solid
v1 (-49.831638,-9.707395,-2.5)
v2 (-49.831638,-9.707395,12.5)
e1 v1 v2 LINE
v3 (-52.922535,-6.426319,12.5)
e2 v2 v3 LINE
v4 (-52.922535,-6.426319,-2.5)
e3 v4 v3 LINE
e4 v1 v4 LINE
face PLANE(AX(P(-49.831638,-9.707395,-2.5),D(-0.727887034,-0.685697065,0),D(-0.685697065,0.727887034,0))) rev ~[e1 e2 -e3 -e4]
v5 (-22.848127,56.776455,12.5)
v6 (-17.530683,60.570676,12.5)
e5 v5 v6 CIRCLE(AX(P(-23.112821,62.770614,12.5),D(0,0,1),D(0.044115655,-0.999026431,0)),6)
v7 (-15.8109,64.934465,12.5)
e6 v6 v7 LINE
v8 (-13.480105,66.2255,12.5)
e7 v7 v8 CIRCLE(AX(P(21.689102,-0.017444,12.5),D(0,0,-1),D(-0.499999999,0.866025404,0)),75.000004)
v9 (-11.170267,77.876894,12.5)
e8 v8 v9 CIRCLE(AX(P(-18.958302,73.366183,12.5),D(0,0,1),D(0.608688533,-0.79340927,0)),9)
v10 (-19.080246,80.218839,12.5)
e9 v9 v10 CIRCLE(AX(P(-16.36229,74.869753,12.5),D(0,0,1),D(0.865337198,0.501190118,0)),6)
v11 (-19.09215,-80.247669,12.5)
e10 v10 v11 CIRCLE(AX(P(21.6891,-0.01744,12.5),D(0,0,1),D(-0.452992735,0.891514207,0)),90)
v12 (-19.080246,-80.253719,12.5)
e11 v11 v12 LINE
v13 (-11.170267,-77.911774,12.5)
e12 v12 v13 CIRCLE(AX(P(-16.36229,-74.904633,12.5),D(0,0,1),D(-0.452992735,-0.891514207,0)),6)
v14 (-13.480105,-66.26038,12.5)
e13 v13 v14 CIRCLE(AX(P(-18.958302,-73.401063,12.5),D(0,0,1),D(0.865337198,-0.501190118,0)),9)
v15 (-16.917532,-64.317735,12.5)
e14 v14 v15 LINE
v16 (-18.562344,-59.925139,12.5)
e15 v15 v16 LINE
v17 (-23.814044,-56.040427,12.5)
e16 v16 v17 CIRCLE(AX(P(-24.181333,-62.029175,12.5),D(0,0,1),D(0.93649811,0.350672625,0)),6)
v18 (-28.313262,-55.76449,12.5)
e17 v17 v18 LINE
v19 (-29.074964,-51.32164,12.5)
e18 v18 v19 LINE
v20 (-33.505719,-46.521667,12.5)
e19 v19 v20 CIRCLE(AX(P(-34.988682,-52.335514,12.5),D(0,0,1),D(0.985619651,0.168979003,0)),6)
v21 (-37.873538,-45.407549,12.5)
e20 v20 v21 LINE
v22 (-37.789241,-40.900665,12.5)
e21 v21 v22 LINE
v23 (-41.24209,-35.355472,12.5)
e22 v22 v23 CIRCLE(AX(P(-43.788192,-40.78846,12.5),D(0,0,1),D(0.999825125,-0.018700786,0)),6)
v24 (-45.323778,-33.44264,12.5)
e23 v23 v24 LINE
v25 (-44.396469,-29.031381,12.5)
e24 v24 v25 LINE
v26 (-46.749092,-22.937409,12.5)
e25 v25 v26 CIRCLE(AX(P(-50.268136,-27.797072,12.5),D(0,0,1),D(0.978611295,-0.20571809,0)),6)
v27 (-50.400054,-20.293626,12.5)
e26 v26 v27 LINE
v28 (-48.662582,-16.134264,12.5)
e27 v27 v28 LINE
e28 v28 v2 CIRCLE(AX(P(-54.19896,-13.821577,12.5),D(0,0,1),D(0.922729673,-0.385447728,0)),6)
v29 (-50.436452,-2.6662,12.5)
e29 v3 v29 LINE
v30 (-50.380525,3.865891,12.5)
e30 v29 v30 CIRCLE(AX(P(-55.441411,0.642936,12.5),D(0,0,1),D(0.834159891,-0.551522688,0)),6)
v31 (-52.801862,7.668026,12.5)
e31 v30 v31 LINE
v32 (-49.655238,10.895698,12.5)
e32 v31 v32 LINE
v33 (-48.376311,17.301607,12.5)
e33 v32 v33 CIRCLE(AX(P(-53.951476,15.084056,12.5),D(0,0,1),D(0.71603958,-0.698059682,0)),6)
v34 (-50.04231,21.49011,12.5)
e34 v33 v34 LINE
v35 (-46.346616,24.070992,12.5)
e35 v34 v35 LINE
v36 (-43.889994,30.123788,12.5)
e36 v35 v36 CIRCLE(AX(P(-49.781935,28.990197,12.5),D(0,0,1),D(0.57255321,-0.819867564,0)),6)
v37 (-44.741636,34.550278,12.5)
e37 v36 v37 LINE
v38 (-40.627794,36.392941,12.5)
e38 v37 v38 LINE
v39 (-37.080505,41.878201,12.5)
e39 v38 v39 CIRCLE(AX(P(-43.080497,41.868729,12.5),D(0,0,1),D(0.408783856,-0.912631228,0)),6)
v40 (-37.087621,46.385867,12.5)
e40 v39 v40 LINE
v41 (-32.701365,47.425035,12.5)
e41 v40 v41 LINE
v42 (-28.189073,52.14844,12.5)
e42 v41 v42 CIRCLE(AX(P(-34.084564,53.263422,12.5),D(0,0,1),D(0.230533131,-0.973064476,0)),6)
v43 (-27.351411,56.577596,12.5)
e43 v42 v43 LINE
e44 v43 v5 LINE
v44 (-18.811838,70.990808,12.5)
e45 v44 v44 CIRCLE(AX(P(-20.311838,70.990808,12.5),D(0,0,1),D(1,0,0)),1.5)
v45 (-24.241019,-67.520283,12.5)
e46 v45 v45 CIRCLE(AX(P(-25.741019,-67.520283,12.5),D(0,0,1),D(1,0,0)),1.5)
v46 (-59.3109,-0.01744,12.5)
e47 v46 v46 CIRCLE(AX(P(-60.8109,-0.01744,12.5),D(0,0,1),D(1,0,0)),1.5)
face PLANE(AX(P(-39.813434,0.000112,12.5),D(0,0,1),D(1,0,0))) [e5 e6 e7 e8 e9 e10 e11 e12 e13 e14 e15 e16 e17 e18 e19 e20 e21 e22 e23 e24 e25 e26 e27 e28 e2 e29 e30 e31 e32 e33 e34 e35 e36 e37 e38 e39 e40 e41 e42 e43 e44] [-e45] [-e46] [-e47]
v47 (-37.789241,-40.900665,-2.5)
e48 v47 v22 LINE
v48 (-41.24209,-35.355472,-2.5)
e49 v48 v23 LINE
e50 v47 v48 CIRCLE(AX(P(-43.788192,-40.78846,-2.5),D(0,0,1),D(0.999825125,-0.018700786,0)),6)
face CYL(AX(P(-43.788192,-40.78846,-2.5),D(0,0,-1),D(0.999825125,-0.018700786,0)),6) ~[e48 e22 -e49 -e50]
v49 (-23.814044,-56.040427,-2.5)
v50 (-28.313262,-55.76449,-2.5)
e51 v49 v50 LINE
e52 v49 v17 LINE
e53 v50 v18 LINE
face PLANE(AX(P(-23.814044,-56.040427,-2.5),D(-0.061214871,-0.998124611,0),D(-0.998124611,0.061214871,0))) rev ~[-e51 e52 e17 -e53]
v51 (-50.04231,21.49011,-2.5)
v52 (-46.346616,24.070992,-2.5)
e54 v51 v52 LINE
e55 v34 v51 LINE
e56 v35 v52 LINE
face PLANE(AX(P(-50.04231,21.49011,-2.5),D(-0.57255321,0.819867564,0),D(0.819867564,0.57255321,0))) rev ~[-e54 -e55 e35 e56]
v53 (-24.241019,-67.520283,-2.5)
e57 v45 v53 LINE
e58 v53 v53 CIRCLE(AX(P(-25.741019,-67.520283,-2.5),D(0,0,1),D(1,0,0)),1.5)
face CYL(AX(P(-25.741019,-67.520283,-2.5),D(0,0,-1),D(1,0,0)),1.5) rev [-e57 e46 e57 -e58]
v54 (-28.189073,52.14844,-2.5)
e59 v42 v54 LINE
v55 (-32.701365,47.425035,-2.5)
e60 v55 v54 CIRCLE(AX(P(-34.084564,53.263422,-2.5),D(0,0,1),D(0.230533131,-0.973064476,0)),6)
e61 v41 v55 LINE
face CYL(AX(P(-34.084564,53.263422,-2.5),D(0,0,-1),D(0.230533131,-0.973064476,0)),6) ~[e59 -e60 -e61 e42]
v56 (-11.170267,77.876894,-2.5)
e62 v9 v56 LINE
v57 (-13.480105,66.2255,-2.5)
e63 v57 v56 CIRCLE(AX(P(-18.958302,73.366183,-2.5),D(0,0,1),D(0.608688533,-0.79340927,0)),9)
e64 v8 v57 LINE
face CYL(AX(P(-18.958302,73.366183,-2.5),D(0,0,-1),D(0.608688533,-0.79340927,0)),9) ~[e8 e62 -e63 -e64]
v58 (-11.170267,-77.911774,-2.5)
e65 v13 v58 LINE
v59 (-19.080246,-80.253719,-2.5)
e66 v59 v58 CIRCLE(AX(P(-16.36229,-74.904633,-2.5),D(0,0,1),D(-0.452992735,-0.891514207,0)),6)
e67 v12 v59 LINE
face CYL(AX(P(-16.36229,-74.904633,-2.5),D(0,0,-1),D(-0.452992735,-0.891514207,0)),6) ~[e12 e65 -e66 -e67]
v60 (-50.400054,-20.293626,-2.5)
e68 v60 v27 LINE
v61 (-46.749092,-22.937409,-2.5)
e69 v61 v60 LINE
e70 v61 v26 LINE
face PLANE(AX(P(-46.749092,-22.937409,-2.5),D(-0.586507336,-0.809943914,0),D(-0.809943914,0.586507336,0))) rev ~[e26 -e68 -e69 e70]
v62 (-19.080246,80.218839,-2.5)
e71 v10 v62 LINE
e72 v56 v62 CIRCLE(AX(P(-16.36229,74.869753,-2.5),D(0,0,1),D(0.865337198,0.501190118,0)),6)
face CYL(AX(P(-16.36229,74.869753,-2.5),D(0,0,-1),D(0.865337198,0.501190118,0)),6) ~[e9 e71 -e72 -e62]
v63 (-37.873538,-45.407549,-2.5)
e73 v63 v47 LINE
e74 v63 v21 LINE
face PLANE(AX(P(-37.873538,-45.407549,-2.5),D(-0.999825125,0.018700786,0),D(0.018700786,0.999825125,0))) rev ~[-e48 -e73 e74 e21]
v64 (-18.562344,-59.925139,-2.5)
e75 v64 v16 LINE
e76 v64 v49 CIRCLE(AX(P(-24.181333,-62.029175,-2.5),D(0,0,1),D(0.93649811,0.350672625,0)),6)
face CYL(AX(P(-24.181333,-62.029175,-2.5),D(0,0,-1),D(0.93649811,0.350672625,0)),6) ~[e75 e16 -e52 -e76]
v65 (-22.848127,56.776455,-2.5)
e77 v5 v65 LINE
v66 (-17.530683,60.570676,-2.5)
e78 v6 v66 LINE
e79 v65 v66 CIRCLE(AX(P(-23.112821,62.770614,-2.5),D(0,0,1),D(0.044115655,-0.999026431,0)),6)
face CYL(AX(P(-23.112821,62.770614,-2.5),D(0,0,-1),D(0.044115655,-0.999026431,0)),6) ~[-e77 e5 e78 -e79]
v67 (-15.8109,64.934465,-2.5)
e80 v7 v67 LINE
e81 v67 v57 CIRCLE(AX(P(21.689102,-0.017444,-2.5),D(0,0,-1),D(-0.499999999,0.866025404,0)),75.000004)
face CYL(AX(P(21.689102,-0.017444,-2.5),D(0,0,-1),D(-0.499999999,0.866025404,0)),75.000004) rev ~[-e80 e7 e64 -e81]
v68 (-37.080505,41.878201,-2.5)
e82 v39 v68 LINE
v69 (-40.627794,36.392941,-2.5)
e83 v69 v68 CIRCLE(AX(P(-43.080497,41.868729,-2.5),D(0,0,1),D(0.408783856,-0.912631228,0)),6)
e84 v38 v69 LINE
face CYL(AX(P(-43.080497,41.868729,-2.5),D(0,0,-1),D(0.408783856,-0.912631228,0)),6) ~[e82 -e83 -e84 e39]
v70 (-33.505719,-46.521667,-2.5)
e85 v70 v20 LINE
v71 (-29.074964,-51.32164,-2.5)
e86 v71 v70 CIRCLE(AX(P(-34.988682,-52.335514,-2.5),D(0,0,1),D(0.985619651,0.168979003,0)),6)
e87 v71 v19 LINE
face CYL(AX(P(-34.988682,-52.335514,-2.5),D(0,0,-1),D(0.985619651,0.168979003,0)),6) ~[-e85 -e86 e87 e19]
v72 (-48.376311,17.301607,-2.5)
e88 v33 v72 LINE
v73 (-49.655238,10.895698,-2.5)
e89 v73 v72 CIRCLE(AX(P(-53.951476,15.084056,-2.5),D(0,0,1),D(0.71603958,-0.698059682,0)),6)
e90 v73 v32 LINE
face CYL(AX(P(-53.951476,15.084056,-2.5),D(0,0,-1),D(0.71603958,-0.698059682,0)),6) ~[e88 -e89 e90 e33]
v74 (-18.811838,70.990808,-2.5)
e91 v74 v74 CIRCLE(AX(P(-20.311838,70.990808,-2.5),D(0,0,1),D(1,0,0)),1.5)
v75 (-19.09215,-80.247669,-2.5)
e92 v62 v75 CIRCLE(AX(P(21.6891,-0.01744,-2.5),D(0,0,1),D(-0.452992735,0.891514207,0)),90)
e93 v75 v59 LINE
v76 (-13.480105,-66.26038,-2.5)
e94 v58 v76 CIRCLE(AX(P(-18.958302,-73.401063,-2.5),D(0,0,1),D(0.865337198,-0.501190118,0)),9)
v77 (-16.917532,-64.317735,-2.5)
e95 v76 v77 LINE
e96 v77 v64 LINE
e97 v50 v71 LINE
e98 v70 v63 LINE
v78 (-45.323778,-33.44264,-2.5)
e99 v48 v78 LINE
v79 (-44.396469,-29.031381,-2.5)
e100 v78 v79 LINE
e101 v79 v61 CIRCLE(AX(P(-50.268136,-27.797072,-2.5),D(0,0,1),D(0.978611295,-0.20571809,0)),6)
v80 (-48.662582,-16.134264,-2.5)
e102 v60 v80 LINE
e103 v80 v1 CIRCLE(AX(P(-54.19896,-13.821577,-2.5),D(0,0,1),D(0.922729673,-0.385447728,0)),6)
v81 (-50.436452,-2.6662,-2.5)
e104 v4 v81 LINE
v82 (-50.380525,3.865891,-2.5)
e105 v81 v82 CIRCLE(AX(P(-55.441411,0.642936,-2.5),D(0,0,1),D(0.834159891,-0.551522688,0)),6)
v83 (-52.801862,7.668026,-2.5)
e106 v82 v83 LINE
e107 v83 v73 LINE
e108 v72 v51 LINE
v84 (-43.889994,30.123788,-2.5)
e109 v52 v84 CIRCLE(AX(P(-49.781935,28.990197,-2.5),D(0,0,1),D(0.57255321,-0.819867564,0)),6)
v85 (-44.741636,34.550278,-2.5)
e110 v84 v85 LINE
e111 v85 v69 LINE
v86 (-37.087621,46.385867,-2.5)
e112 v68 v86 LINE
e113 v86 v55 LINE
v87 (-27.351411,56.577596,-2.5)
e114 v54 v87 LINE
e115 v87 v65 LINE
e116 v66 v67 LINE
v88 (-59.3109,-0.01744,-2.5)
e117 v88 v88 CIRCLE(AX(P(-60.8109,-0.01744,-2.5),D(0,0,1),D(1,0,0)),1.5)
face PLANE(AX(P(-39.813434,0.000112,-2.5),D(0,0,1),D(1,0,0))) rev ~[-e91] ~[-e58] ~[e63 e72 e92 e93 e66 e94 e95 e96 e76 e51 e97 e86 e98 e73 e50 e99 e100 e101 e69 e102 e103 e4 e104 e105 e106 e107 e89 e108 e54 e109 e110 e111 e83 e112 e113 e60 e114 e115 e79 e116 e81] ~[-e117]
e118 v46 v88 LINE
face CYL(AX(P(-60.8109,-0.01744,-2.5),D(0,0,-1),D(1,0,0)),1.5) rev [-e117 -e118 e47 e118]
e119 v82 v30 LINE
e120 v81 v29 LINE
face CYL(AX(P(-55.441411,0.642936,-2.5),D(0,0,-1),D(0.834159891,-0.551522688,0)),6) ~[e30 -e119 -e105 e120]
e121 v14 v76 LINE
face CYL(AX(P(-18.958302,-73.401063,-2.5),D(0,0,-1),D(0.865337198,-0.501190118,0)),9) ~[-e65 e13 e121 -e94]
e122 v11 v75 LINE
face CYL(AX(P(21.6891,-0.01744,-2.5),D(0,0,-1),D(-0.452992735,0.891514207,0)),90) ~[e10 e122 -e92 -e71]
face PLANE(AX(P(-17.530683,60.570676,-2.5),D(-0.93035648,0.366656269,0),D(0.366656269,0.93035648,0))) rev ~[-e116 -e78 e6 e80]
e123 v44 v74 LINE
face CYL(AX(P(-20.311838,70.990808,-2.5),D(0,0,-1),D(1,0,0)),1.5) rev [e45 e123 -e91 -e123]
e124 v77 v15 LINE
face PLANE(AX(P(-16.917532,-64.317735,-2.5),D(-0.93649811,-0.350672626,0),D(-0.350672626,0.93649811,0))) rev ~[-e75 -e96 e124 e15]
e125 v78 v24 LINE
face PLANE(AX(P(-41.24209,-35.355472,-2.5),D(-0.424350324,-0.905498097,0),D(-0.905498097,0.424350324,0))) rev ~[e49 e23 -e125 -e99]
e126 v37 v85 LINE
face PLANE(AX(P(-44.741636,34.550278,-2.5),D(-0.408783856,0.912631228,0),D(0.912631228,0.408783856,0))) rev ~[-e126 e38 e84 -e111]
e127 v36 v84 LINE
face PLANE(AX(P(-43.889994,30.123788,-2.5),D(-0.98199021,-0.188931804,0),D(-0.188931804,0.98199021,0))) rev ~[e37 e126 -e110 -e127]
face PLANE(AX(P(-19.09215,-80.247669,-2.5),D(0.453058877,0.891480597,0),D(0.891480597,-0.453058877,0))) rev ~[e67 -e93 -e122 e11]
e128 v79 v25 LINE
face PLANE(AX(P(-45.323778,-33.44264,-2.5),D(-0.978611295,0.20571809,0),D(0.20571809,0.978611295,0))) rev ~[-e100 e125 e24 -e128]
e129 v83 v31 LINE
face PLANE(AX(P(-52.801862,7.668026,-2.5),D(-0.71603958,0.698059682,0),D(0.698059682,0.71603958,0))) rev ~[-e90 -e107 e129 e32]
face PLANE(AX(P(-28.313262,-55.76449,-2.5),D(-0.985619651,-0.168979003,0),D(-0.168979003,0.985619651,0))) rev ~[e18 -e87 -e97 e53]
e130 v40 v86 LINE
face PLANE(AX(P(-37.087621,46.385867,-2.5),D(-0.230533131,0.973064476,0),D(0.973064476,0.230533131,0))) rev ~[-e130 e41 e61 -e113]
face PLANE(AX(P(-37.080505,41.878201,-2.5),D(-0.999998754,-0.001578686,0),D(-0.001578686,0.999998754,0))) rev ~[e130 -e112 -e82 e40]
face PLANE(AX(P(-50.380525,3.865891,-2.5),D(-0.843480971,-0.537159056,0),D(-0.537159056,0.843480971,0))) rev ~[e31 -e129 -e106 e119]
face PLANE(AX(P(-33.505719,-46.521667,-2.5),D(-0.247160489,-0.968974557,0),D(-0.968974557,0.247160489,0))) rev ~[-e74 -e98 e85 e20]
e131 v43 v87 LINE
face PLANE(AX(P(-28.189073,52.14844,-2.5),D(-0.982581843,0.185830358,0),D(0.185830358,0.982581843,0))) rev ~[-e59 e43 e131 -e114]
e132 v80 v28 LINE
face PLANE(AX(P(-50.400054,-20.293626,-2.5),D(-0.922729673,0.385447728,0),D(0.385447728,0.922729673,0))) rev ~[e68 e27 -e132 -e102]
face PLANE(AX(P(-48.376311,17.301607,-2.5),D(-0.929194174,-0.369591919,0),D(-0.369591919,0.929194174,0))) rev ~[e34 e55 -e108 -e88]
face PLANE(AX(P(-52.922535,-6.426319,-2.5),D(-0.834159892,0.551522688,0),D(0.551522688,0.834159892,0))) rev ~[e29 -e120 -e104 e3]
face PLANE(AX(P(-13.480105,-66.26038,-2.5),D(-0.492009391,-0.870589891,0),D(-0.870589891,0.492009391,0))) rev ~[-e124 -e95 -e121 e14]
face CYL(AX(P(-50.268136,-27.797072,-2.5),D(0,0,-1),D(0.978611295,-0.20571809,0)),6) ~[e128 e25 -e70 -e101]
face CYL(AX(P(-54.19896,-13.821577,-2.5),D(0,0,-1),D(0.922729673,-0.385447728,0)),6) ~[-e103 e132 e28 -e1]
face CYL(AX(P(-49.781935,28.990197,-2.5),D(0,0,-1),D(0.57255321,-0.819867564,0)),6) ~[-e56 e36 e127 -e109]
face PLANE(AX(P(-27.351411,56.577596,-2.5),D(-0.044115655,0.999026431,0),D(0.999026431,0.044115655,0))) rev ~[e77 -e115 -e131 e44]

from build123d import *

# Parameters (mm, degrees)
SKETCH_1_R        = 1
EXTRUDE_1_DEPTH   = 1
SKETCH_1_2_R      = 1
EXTRUDE_1_2_DEPTH = 8
SKETCH_1_3_R      = 1
EXTRUDE_2_DEPTH   = 10
SCALE_4_SCALE     = 1.5


with BuildPart() as part:
    # 草图1 → Extrude 1 (new body)
    with BuildSketch(Plane.XY):
        with BuildLine():
            Line((-23.446136356, -44.161959762), (-25.73775467, -42.866863479))
            Line((-25.73775467, -42.866863479), (-26.834295942, -39.938466016))
            ThreePointArc((-26.834295942, -39.938466016), (-28.201527977, -38.125336415), (-30.335428898, -37.348658075))
            Line((-30.335428898, -37.348658075), (-33.334907776, -37.164700371))
            Line((-33.334907776, -37.164700371), (-33.842709051, -34.202800331))
            ThreePointArc((-33.842709051, -34.202800331), (-34.84597704, -32.165592505), (-36.7965457, -31.002818113))
            Line((-36.7965457, -31.002818113), (-39.708425324, -30.260072511))
            Line((-39.708425324, -30.260072511), (-39.652227319, -27.255483394))
            ThreePointArc((-39.652227319, -27.255483394), (-40.255989993, -25.066366444), (-41.954126526, -23.558687864))
            Line((-41.954126526, -23.558687864), (-44.675252109, -22.283466496))
            Line((-44.675252109, -22.283466496), (-44.057045667, -19.342627369))
            ThreePointArc((-44.057045667, -19.342627369), (-44.239914432, -17.079151855), (-45.625461503, -15.279979352))
            Line((-45.625461503, -15.279979352), (-48.059435816, -13.517457571))
            Line((-48.059435816, -13.517457571), (-46.901121207, -10.744549126))
            ThreePointArc((-46.901121207, -10.744549126), (-46.656617846, -8.486899797), (-47.680491761, -6.459969953))
            Line((-47.680491761, -6.459969953), (-49.741090048, -4.272585973))
            Line((-49.741090048, -4.272585973), (-48.083701146, -1.765839874))
            ThreePointArc((-48.083701146, -1.765839874), (-47.420487313, 0.406004917), (-48.046416828, 2.588887101))
            Line((-48.046416828, 2.588887101), (-49.660641368, 5.123644113))
            Line((-49.660641368, 5.123644113), (-47.562892001, 7.275425136))
            ThreePointArc((-47.562892001, 7.275425136), (-46.504462376, 9.284526705), (-46.710273625, 11.546031539))
            Line((-46.710273625, 11.546031539), (-47.82093971, 14.338366552))
            Line((-47.82093971, 14.338366552), (-45.357143694, 16.058954583))
            ThreePointArc((-45.357143694, 16.058954583), (-43.940993675, 17.834139505), (-43.719395692, 20.094152054))
            Line((-43.719395692, 20.094152054), (-44.287157421, 23.045145208))
            Line((-44.287157421, 23.045145208), (-41.54459596, 24.273587558))
            ThreePointArc((-41.54459596, 24.273587558), (-39.820893366, 25.751969023), (-39.17973637, 27.930427214))
            Line((-39.17973637, 27.930427214), (-39.184480502, 30.935538106))
            Line((-39.184480502, 30.935538106), (-36.260310201, 31.628316593))
            ThreePointArc((-36.260310201, 31.628316593), (-34.290118058, 32.757522199), (-33.252115355, 34.777253066))
            Line((-33.252115355, 34.777253066), (-32.693673826, 37.730024144))
            Line((-32.693673826, 37.730024144), (-29.691484877, 37.862596744))
            ThreePointArc((-29.691484877, 37.862596744), (-27.544598222, 38.602623821), (-26.146521576, 40.39207739))
            Line((-26.146521576, 40.39207739), (-25, 43.301270189))
            ThreePointArc((-25, 43.301270189), (-24.226890609, 43.73851588), (-23.446136356, 44.161959762))
            ThreePointArc((-23.446136356, 44.161959762), (-21.212806241, 47.755648425), (-21.906244367, 51.929556087))
            ThreePointArc((-21.906244367, 51.929556087), (-24.232021318, 53.76021953), (-27.179564099, 53.490852446))
            ThreePointArc((-27.179564099, 53.490852446), (-59.999999835, 0.004450967), (-27.1875, -53.486819346))
            Line((-27.1875, -53.486819346), (-27.179564099, -53.490852446))
            ThreePointArc((-27.179564099, -53.490852446), (-24.232021318, -53.76021953), (-21.906244367, -51.929556087))
            ThreePointArc((-21.906244367, -51.929556087), (-21.212806241, -47.755648425), (-23.446136356, -44.161959762))
        make_face()
        with Locations((-31.620079453, -45.001895242)):
            Circle(SKETCH_1_R, mode=Mode.SUBTRACT)
        with Locations((-55, 0)):
            Circle(SKETCH_1_R, mode=Mode.SUBTRACT)
        with Locations((-28.000624989, 47.338831842)):
            Circle(SKETCH_1_R, mode=Mode.SUBTRACT)
    extrude(amount=EXTRUDE_1_DEPTH)

    # 草图1<2> → Extrude 1 2 (add)
    with BuildSketch(Plane.XY):
        with BuildLine():
            Line((-23.446136356, -44.161959762), (-25.73775467, -42.866863479))
            Line((-25.73775467, -42.866863479), (-26.834295942, -39.938466016))
            ThreePointArc((-26.834295942, -39.938466016), (-28.201527977, -38.125336415), (-30.335428898, -37.348658075))
            Line((-30.335428898, -37.348658075), (-33.334907776, -37.164700371))
            Line((-33.334907776, -37.164700371), (-33.842709051, -34.202800331))
            ThreePointArc((-33.842709051, -34.202800331), (-34.84597704, -32.165592505), (-36.7965457, -31.002818113))
            Line((-36.7965457, -31.002818113), (-39.708425324, -30.260072511))
            Line((-39.708425324, -30.260072511), (-39.652227319, -27.255483394))
            ThreePointArc((-39.652227319, -27.255483394), (-40.255989993, -25.066366444), (-41.954126526, -23.558687864))
            Line((-41.954126526, -23.558687864), (-44.675252109, -22.283466496))
            Line((-44.675252109, -22.283466496), (-44.057045667, -19.342627369))
            ThreePointArc((-44.057045667, -19.342627369), (-44.239914432, -17.079151855), (-45.625461503, -15.279979352))
            Line((-45.625461503, -15.279979352), (-48.059435816, -13.517457571))
            Line((-48.059435816, -13.517457571), (-46.901121207, -10.744549126))
            ThreePointArc((-46.901121207, -10.744549126), (-46.656617846, -8.486899797), (-47.680491761, -6.459969953))
            Line((-47.680491761, -6.459969953), (-49.741090048, -4.272585973))
            Line((-49.741090048, -4.272585973), (-48.083701146, -1.765839874))
            ThreePointArc((-48.083701146, -1.765839874), (-47.420487313, 0.406004917), (-48.046416828, 2.588887101))
            Line((-48.046416828, 2.588887101), (-49.660641368, 5.123644113))
            Line((-49.660641368, 5.123644113), (-47.562892001, 7.275425136))
            ThreePointArc((-47.562892001, 7.275425136), (-46.504462376, 9.284526705), (-46.710273625, 11.546031539))
            Line((-46.710273625, 11.546031539), (-47.82093971, 14.338366552))
            Line((-47.82093971, 14.338366552), (-45.357143694, 16.058954583))
            ThreePointArc((-45.357143694, 16.058954583), (-43.940993675, 17.834139505), (-43.719395692, 20.094152054))
            Line((-43.719395692, 20.094152054), (-44.287157421, 23.045145208))
            Line((-44.287157421, 23.045145208), (-41.54459596, 24.273587558))
            ThreePointArc((-41.54459596, 24.273587558), (-39.820893366, 25.751969023), (-39.17973637, 27.930427214))
            Line((-39.17973637, 27.930427214), (-39.184480502, 30.935538106))
            Line((-39.184480502, 30.935538106), (-36.260310201, 31.628316593))
            ThreePointArc((-36.260310201, 31.628316593), (-34.290118058, 32.757522199), (-33.252115355, 34.777253066))
            Line((-33.252115355, 34.777253066), (-32.693673826, 37.730024144))
            Line((-32.693673826, 37.730024144), (-29.691484877, 37.862596744))
            ThreePointArc((-29.691484877, 37.862596744), (-27.544598222, 38.602623821), (-26.146521576, 40.39207739))
            Line((-26.146521576, 40.39207739), (-25, 43.301270189))
            ThreePointArc((-25, 43.301270189), (-24.226890609, 43.73851588), (-23.446136356, 44.161959762))
            ThreePointArc((-23.446136356, 44.161959762), (-21.212806241, 47.755648425), (-21.906244367, 51.929556087))
            ThreePointArc((-21.906244367, 51.929556087), (-24.232021318, 53.76021953), (-27.179564099, 53.490852446))
            ThreePointArc((-27.179564099, 53.490852446), (-59.999999835, 0.004450967), (-27.1875, -53.486819346))
            Line((-27.1875, -53.486819346), (-27.179564099, -53.490852446))
            ThreePointArc((-27.179564099, -53.490852446), (-24.232021318, -53.76021953), (-21.906244367, -51.929556087))
            ThreePointArc((-21.906244367, -51.929556087), (-21.212806241, -47.755648425), (-23.446136356, -44.161959762))
        make_face()
        with Locations((-31.620079453, -45.001895242)):
            Circle(SKETCH_1_2_R, mode=Mode.SUBTRACT)
        with Locations((-55, 0)):
            Circle(SKETCH_1_2_R, mode=Mode.SUBTRACT)
        with Locations((-28.000624989, 47.338831842)):
            Circle(SKETCH_1_2_R, mode=Mode.SUBTRACT)
    extrude(amount=EXTRUDE_1_2_DEPTH)

    # 草图1<3> → 凸台-拉伸2 (add)
    with BuildSketch(Plane.XY):
        with BuildLine():
            Line((-23.446136356, -44.161959762), (-25.73775467, -42.866863479))
            Line((-25.73775467, -42.866863479), (-26.834295942, -39.938466016))
            ThreePointArc((-26.834295942, -39.938466016), (-28.201527977, -38.125336415), (-30.335428898, -37.348658075))
            Line((-30.335428898, -37.348658075), (-33.334907776, -37.164700371))
            Line((-33.334907776, -37.164700371), (-33.842709051, -34.202800331))
            ThreePointArc((-33.842709051, -34.202800331), (-34.84597704, -32.165592505), (-36.7965457, -31.002818113))
            Line((-36.7965457, -31.002818113), (-39.708425324, -30.260072511))
            Line((-39.708425324, -30.260072511), (-39.652227319, -27.255483394))
            ThreePointArc((-39.652227319, -27.255483394), (-40.255989993, -25.066366444), (-41.954126526, -23.558687864))
            Line((-41.954126526, -23.558687864), (-44.675252109, -22.283466496))
            Line((-44.675252109, -22.283466496), (-44.057045667, -19.342627369))
            ThreePointArc((-44.057045667, -19.342627369), (-44.239914432, -17.079151855), (-45.625461503, -15.279979352))
            Line((-45.625461503, -15.279979352), (-48.059435816, -13.517457571))
            Line((-48.059435816, -13.517457571), (-46.901121207, -10.744549126))
            ThreePointArc((-46.901121207, -10.744549126), (-46.656617846, -8.486899797), (-47.680491761, -6.459969953))
            Line((-47.680491761, -6.459969953), (-49.741090048, -4.272585973))
            Line((-49.741090048, -4.272585973), (-48.083701146, -1.765839874))
            ThreePointArc((-48.083701146, -1.765839874), (-47.420487313, 0.406004917), (-48.046416828, 2.588887101))
            Line((-48.046416828, 2.588887101), (-49.660641368, 5.123644113))
            Line((-49.660641368, 5.123644113), (-47.562892001, 7.275425136))
            ThreePointArc((-47.562892001, 7.275425136), (-46.504462376, 9.284526705), (-46.710273625, 11.546031539))
            Line((-46.710273625, 11.546031539), (-47.82093971, 14.338366552))
            Line((-47.82093971, 14.338366552), (-45.357143694, 16.058954583))
            ThreePointArc((-45.357143694, 16.058954583), (-43.940993675, 17.834139505), (-43.719395692, 20.094152054))
            Line((-43.719395692, 20.094152054), (-44.287157421, 23.045145208))
            Line((-44.287157421, 23.045145208), (-41.54459596, 24.273587558))
            ThreePointArc((-41.54459596, 24.273587558), (-39.820893366, 25.751969023), (-39.17973637, 27.930427214))
            Line((-39.17973637, 27.930427214), (-39.184480502, 30.935538106))
            Line((-39.184480502, 30.935538106), (-36.260310201, 31.628316593))
            ThreePointArc((-36.260310201, 31.628316593), (-34.290118058, 32.757522199), (-33.252115355, 34.777253066))
            Line((-33.252115355, 34.777253066), (-32.693673826, 37.730024144))
            Line((-32.693673826, 37.730024144), (-29.691484877, 37.862596744))
            ThreePointArc((-29.691484877, 37.862596744), (-27.544598222, 38.602623821), (-26.146521576, 40.39207739))
            Line((-26.146521576, 40.39207739), (-25, 43.301270189))
            ThreePointArc((-25, 43.301270189), (-24.226890609, 43.73851588), (-23.446136356, 44.161959762))
            ThreePointArc((-23.446136356, 44.161959762), (-21.212806241, 47.755648425), (-21.906244367, 51.929556087))
            ThreePointArc((-21.906244367, 51.929556087), (-24.232021318, 53.76021953), (-27.179564099, 53.490852446))
            ThreePointArc((-27.179564099, 53.490852446), (-59.999999835, 0.004450967), (-27.1875, -53.486819346))
            Line((-27.1875, -53.486819346), (-27.179564099, -53.490852446))
            ThreePointArc((-27.179564099, -53.490852446), (-24.232021318, -53.76021953), (-21.906244367, -51.929556087))
            ThreePointArc((-21.906244367, -51.929556087), (-21.212806241, -47.755648425), (-23.446136356, -44.161959762))
        make_face()
        with Locations((-31.620079453, -45.001895242)):
            Circle(SKETCH_1_3_R, mode=Mode.SUBTRACT)
        with Locations((-55, 0)):
            Circle(SKETCH_1_3_R, mode=Mode.SUBTRACT)
        with Locations((-28.000624989, 47.338831842)):
            Circle(SKETCH_1_3_R, mode=Mode.SUBTRACT)
    extrude(amount=EXTRUDE_2_DEPTH)


with BuildPart() as part_1:
    # 缩放比例4: scaled about (-43.37819964, 0.034879878, 5)
    add(part.part.scale(SCALE_4_SCALE).moved(Location((21.68909982, -0.017439939, -2.5))))


solid = part_1.part
